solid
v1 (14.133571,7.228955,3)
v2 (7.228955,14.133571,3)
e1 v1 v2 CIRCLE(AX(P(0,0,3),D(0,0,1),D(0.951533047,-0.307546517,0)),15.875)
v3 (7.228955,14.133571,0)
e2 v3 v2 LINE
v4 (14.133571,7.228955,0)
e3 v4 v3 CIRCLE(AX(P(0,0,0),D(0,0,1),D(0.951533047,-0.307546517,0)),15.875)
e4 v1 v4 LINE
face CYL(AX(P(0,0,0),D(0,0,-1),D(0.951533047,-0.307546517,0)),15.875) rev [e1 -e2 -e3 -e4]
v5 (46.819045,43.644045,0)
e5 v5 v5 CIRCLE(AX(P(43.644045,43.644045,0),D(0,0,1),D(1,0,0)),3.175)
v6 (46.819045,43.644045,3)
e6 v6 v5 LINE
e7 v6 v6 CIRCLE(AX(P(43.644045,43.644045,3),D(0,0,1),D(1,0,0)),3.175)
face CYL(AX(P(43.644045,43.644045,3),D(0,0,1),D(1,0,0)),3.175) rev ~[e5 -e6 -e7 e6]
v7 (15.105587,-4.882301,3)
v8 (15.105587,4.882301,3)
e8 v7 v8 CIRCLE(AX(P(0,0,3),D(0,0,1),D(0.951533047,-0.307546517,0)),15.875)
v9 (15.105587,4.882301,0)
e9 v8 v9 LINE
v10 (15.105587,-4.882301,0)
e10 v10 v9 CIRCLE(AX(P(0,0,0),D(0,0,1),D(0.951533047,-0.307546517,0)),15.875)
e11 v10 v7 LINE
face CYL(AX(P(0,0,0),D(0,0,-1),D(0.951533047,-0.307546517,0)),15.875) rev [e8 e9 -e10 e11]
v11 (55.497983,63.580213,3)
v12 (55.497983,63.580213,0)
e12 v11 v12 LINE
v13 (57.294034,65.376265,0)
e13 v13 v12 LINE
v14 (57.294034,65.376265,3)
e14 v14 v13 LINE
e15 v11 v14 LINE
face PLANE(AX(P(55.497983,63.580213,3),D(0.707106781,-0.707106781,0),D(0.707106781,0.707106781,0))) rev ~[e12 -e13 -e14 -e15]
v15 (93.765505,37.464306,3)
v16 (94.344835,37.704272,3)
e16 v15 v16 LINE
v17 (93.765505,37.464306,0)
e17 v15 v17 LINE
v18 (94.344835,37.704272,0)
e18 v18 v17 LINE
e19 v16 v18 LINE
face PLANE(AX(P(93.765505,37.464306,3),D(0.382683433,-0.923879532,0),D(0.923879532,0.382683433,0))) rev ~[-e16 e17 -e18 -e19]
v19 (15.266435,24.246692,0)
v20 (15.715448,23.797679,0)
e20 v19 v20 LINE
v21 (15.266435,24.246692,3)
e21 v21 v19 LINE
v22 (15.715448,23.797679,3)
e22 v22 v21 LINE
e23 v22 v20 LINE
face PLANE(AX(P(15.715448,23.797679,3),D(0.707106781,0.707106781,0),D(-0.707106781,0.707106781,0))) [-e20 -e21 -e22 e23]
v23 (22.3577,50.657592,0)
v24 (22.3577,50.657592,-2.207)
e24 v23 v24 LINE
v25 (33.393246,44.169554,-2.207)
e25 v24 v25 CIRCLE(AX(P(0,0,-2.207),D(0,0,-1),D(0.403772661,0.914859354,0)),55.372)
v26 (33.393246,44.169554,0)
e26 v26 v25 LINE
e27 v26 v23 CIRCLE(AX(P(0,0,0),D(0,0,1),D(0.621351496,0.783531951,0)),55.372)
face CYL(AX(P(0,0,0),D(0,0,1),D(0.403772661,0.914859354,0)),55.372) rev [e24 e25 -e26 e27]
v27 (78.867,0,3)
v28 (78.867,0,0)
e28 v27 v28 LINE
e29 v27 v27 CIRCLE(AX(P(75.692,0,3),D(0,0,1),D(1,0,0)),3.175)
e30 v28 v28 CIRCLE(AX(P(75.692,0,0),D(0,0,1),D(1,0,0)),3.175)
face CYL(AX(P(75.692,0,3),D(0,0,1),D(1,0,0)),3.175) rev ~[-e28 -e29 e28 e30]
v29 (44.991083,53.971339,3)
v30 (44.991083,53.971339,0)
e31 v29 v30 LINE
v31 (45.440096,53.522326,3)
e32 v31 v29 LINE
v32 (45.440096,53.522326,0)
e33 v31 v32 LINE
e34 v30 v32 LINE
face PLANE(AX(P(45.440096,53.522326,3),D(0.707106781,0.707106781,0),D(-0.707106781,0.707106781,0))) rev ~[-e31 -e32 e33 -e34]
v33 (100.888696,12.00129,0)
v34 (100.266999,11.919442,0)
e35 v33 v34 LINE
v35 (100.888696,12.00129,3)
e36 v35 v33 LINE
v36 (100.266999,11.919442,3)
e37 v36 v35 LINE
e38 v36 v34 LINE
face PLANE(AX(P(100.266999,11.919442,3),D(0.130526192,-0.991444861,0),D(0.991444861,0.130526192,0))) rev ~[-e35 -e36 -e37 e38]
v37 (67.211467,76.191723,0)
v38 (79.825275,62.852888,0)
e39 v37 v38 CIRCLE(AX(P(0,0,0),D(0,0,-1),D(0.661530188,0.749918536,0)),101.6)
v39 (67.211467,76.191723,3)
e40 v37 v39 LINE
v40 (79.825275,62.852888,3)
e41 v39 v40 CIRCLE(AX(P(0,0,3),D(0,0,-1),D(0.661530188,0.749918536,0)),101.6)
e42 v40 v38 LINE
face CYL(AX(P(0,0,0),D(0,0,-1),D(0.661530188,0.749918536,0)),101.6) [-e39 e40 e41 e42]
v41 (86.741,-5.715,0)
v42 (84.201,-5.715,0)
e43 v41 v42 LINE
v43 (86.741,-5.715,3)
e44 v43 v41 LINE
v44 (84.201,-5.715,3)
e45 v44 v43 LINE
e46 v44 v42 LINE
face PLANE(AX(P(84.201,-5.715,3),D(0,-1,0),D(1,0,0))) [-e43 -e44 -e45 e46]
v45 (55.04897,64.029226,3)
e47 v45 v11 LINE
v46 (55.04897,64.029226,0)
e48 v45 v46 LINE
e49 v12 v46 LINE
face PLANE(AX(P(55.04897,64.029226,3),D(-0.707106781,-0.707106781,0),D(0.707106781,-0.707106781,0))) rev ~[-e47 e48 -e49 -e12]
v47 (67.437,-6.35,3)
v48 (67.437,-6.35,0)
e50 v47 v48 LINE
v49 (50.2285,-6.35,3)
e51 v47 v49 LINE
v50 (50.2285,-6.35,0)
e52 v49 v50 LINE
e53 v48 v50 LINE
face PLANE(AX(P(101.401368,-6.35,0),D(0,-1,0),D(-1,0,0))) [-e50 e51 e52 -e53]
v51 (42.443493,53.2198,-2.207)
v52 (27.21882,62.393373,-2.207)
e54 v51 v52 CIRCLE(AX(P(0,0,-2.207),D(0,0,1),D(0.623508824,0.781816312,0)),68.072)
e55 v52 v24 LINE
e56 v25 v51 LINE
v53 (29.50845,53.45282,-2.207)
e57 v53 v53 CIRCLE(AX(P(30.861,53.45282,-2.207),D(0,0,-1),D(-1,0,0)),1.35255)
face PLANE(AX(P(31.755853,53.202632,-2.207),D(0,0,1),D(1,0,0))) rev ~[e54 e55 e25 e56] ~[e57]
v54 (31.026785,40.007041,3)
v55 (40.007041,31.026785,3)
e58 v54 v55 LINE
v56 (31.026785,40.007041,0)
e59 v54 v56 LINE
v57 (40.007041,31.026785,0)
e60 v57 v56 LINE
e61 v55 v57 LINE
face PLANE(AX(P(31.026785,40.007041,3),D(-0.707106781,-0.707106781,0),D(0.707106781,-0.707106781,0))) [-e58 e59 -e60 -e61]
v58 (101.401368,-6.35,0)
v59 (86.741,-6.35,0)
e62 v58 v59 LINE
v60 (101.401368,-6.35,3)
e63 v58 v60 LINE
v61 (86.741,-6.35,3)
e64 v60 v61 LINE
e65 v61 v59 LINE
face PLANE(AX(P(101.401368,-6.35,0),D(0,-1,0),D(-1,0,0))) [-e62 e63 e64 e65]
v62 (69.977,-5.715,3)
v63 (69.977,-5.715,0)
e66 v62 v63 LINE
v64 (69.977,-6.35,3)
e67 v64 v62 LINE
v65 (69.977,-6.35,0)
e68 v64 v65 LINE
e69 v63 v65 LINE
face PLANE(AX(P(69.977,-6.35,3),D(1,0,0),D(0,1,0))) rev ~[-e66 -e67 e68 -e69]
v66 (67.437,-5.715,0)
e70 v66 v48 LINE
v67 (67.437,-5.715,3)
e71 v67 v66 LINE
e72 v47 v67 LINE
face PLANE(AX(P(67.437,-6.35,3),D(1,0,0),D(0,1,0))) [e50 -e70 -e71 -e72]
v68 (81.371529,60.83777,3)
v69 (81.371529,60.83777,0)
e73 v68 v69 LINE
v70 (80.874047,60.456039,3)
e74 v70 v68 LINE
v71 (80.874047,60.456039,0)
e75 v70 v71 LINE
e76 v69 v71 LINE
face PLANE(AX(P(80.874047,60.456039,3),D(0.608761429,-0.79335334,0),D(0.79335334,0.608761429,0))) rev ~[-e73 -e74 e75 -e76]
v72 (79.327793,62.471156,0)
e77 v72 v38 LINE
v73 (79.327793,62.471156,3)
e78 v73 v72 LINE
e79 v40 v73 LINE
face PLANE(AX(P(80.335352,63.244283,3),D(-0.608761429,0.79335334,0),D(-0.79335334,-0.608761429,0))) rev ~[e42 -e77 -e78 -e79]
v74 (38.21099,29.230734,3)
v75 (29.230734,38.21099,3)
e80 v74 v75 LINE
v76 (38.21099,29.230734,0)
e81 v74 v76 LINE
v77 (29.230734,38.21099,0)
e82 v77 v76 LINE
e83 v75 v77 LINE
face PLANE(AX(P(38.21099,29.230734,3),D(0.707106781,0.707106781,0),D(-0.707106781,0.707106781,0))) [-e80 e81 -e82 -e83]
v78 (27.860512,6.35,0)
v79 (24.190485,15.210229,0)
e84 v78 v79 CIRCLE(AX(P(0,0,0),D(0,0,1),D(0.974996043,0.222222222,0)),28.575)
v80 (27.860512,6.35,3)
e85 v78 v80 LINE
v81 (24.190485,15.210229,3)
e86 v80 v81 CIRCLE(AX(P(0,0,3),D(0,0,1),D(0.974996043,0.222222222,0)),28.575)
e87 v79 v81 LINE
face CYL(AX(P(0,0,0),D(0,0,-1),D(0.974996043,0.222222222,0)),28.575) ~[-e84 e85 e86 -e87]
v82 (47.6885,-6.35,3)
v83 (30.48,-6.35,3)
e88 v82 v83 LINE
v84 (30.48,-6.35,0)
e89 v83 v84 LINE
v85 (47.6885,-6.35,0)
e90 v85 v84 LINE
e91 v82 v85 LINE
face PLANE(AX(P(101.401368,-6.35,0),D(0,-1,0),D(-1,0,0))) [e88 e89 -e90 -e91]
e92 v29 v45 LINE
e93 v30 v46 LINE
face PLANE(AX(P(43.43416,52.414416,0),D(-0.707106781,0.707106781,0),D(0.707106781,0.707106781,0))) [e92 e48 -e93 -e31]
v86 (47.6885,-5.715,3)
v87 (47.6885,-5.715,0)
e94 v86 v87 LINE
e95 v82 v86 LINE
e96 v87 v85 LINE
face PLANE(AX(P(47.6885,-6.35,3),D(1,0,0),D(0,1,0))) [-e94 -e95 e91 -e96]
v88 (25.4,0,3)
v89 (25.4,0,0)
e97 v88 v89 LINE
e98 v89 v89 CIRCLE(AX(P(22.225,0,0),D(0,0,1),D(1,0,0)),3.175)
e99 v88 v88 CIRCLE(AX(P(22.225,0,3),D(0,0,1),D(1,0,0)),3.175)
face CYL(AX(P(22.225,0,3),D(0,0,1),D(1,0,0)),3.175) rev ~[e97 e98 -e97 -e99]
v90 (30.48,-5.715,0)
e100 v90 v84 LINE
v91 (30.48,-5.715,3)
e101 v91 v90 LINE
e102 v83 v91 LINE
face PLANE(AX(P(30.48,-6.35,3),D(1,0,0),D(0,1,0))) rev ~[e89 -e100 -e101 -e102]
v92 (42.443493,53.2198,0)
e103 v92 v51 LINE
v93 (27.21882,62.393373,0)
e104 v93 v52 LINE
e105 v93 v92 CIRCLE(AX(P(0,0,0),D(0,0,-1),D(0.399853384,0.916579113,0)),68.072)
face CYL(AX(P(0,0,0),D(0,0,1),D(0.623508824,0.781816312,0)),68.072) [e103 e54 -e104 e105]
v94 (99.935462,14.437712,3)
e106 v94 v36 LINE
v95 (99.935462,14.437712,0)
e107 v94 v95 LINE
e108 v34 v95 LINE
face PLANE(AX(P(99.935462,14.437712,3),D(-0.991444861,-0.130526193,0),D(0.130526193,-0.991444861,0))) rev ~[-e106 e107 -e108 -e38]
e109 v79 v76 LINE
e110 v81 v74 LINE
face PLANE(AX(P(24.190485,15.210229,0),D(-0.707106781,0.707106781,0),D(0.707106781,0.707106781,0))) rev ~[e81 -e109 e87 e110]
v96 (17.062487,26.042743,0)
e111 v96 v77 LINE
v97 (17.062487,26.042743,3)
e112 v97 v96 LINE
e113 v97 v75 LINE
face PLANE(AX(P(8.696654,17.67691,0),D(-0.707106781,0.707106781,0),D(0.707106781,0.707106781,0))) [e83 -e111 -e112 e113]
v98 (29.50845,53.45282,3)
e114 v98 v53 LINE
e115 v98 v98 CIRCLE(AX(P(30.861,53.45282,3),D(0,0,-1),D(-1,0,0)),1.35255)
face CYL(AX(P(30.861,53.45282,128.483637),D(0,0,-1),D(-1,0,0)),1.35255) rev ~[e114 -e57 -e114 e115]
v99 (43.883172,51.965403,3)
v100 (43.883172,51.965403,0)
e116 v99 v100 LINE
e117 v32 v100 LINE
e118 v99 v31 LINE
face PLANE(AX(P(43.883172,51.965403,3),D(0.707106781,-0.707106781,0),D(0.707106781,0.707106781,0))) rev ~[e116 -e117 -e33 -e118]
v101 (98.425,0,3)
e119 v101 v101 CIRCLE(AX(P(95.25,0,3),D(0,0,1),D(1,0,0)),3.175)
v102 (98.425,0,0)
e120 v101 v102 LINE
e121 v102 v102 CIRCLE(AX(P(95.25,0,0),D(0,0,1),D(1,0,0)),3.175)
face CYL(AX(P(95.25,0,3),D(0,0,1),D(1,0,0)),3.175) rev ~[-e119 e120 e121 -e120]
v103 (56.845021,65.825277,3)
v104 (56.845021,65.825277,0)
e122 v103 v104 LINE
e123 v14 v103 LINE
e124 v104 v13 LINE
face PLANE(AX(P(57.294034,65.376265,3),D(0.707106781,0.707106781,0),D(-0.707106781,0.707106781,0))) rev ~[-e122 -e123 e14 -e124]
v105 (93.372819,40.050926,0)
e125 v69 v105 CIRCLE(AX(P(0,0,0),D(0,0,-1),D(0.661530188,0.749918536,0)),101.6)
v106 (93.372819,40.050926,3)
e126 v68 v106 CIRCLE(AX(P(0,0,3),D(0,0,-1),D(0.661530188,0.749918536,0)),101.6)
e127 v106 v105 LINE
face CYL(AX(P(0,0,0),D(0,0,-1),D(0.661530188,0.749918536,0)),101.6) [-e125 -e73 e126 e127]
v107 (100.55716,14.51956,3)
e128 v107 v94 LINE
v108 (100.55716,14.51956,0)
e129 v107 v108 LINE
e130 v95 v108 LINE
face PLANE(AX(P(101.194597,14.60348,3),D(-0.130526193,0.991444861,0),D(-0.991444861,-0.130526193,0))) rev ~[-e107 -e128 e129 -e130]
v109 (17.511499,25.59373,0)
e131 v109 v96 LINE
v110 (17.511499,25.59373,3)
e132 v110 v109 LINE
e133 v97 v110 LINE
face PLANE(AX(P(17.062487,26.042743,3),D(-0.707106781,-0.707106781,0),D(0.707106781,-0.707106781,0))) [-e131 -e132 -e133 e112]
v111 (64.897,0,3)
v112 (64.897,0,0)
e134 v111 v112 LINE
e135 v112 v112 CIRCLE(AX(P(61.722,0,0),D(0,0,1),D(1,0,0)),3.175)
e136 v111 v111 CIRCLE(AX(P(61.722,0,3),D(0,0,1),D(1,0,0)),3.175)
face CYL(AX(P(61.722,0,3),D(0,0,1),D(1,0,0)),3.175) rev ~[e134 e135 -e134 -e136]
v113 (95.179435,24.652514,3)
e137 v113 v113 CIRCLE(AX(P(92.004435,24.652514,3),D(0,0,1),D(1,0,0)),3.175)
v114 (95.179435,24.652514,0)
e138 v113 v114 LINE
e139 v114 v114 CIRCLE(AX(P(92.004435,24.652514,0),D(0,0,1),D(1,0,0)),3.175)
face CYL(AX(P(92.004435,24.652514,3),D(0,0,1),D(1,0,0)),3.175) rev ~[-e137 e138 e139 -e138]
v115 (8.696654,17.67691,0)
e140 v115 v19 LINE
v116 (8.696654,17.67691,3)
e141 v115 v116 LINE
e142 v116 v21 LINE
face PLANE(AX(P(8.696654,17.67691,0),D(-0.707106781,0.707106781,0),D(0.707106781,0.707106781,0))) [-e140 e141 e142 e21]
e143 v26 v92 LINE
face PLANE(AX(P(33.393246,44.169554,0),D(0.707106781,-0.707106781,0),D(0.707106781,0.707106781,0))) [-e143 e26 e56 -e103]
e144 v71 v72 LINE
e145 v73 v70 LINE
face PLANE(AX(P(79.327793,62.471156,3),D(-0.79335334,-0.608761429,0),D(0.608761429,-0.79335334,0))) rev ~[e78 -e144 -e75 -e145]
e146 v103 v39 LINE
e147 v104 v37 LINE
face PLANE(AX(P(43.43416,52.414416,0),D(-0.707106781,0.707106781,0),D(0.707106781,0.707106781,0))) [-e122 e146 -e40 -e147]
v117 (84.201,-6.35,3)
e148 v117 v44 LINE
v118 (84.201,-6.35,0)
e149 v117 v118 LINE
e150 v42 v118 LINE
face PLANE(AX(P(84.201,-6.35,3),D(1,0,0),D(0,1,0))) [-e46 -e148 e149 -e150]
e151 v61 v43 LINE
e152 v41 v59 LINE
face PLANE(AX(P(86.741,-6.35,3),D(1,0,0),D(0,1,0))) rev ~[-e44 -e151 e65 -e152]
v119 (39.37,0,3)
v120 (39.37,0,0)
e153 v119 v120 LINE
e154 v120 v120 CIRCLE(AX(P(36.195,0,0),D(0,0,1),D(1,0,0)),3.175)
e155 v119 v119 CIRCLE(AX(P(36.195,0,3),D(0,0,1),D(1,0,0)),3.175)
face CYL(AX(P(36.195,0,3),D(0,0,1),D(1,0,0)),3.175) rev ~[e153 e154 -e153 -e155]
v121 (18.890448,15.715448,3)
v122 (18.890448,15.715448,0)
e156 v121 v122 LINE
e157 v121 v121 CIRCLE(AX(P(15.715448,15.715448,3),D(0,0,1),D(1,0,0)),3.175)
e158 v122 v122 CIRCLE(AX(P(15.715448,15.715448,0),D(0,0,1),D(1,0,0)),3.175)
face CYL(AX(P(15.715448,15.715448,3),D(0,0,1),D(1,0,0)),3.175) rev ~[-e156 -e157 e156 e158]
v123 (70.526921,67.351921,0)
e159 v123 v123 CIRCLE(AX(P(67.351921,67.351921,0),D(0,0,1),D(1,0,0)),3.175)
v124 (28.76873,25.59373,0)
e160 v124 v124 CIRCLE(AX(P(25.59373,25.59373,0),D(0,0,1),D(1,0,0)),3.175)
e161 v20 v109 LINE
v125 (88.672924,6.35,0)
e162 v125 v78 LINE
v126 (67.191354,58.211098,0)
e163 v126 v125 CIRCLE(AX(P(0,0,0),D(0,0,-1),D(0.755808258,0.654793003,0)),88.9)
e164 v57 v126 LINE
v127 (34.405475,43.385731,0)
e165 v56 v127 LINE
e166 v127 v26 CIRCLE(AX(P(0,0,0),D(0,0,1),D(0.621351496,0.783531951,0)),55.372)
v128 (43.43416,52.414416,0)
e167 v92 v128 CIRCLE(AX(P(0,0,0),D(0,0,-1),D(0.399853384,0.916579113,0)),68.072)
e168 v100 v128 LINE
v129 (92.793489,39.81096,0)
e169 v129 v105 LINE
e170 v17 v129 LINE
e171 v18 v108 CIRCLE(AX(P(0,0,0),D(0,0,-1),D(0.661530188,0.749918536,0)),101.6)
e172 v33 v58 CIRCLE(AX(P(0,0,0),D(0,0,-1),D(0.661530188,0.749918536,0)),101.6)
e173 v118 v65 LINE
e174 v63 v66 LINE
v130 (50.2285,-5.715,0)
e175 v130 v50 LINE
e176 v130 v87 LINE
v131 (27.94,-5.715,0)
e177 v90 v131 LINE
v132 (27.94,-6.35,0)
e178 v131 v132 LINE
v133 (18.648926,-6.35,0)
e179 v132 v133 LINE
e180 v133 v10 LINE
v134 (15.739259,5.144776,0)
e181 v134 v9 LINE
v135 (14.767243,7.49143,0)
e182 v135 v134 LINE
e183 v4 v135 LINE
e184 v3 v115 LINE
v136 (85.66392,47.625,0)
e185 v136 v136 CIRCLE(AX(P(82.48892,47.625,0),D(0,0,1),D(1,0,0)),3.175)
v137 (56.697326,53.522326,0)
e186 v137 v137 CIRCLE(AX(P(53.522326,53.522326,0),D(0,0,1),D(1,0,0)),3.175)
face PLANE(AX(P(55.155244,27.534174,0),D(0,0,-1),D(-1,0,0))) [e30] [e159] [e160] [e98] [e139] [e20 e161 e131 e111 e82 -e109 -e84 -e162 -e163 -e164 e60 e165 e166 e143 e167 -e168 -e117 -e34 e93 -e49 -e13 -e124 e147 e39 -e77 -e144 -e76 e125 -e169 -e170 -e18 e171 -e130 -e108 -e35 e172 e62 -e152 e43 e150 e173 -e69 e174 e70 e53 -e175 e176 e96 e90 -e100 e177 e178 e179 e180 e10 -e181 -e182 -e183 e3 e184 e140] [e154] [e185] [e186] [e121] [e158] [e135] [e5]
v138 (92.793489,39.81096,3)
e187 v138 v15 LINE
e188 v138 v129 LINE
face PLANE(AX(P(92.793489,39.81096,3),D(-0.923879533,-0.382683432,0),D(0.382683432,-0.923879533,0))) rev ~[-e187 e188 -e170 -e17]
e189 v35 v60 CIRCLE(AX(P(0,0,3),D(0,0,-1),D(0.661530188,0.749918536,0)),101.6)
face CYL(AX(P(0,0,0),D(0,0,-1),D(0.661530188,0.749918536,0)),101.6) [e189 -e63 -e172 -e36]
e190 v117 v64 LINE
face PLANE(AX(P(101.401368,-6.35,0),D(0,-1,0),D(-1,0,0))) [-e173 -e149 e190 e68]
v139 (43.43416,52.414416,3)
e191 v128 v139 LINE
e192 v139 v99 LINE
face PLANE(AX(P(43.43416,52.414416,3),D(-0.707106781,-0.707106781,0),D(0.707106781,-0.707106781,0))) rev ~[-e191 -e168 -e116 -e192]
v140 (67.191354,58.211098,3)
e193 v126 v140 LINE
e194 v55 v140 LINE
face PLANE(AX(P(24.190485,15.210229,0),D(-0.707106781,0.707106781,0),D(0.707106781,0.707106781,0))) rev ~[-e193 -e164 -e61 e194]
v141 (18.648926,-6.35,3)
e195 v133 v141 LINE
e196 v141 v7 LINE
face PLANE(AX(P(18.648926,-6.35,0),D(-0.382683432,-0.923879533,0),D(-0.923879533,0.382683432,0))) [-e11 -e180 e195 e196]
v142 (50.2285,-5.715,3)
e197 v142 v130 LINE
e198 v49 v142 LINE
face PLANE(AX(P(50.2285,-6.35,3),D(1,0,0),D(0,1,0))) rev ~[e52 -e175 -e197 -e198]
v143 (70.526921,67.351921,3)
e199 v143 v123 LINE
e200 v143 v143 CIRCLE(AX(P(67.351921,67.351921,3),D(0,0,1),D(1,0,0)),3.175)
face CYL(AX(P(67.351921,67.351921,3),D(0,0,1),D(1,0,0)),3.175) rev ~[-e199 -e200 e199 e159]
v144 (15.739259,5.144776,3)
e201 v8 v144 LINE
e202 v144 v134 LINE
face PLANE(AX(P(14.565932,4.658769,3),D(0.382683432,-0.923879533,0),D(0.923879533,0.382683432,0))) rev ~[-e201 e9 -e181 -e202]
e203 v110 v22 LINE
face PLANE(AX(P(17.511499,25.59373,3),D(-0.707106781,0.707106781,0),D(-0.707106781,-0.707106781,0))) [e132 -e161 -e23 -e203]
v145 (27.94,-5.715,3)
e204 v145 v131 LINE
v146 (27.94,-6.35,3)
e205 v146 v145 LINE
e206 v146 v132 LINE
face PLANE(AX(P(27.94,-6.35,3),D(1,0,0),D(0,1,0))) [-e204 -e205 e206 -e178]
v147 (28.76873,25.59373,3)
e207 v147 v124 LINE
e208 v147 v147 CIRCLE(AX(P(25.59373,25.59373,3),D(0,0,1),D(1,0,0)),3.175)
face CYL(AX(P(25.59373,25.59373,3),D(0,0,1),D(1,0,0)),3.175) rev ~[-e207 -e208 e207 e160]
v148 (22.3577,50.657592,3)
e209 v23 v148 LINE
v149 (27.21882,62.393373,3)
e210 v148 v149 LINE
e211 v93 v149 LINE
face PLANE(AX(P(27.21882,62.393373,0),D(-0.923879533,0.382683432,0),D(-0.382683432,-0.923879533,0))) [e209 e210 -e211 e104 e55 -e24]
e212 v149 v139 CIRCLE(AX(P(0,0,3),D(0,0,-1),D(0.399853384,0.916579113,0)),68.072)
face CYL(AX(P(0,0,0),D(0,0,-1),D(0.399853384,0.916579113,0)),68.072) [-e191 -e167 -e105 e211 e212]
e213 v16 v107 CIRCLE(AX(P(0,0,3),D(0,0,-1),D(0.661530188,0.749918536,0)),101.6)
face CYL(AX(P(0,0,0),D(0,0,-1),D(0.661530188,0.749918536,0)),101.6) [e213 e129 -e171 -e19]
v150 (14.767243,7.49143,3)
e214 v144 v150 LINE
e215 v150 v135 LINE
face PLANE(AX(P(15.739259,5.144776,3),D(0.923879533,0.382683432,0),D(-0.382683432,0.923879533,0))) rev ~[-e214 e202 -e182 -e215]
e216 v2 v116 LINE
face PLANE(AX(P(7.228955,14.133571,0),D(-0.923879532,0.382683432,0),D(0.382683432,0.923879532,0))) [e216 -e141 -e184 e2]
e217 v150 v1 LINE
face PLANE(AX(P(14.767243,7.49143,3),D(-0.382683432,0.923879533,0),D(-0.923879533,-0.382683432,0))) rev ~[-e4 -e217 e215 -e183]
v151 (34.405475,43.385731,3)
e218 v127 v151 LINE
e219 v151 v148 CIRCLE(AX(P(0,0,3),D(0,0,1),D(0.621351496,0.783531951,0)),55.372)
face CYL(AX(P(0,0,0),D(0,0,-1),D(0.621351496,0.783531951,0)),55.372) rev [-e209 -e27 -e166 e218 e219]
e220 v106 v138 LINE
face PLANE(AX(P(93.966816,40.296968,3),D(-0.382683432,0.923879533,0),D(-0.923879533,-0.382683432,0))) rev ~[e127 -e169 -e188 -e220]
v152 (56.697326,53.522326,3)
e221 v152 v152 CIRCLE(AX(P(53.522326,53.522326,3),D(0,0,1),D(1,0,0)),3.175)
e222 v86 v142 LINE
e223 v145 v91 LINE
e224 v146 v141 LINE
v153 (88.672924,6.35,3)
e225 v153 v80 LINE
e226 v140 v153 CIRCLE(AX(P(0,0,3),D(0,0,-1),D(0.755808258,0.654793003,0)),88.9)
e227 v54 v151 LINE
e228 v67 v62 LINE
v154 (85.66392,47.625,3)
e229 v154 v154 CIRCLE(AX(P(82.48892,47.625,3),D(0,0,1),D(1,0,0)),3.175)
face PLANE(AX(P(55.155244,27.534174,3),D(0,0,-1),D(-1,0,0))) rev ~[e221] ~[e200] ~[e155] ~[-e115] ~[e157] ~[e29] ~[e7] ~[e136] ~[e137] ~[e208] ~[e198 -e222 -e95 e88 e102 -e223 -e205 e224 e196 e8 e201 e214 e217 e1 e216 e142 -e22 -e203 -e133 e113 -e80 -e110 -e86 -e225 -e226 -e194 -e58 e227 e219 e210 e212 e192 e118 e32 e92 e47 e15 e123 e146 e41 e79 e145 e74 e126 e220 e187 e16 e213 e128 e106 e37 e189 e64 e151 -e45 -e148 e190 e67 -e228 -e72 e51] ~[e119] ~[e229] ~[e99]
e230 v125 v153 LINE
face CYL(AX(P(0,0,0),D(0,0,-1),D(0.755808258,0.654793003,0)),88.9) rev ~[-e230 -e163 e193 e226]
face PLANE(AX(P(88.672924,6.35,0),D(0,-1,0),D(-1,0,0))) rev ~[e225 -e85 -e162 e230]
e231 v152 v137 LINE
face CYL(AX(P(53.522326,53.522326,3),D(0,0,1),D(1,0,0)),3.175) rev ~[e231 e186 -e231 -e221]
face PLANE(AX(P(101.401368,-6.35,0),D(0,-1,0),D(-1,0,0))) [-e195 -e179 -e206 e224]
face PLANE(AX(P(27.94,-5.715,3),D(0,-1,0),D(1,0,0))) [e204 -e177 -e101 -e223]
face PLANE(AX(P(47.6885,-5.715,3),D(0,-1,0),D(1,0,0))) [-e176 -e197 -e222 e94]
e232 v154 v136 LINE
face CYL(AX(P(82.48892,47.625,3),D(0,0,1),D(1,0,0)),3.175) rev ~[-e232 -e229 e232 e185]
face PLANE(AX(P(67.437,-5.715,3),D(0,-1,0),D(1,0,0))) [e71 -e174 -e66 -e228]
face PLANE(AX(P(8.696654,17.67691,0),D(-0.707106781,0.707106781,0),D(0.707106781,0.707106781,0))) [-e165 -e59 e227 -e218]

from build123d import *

# Parameters (mm, degrees)
BOSS_EXTRUDE1_DEPTH   = 3.000000096
SKETCH2_R             = 3.175
CUT_EXTRUDE1_DEPTH    = 4.000000096
SKETCH3_W             = 2.54
SKETCH3_H             = 0.635
CUT_EXTRUDE2_DEPTH    = 4.000000096
BOSS_EXTRUDE2_DEPTH   = 2.206999904
F_6_32_TAPPED_HOLE1_D = 2.7051


with BuildPart() as part:
    # Sketch1 → Boss-Extrude1 (new body)
    with BuildSketch(Plane.XY):
        with BuildLine():
            Line((22.357699804, 50.65759216), (27.218819563, 62.393373411))
            ThreePointArc((27.218819563, 62.393373411), (35.677104191, 57.973626939), (43.43415954, 52.414415661))
            Line((43.43415954, 52.414415661), (67.21146711, 76.191723231))
            ThreePointArc((67.21146711, 76.191723231), (93.866160503, 38.880636728), (101.401368334, -6.35))
            Line((101.401368334, -6.35), (18.648926052, -6.35))
            Line((18.648926052, -6.35), (15.105587123, -4.88230096))
            ThreePointArc((15.105587123, -4.88230096), (14.666587579, 6.075099489), (7.228954972, 14.133571205))
            Line((7.228954972, 14.133571205), (8.696654013, 17.676910134))
            Line((8.696654013, 17.676910134), (34.405475059, 43.38573118))
            ThreePointArc((34.405475059, 43.38573118), (28.61353693, 47.405947816), (22.357699804, 50.65759216))
        make_face()
        with BuildLine():
            Line((88.672924278, 6.35), (27.86051193, 6.35))
            ThreePointArc((27.86051193, 6.35), (26.399857642, 10.93517908), (24.190484974, 15.210228852))
            Line((24.190484974, 15.210228852), (67.191354125, 58.211098004))
            ThreePointArc((67.191354125, 58.211098004), (82.13289044, 34.020557137), (88.672924278, 6.35))
        make_face(mode=Mode.SUBTRACT)
    extrude(amount=BOSS_EXTRUDE1_DEPTH)

    # Sketch2 → Cut-Extrude1 (cut, through all)
    with BuildSketch(Plane.XY.offset(3.000000096)):
        with Locations((22.225, 0)):
            Circle(SKETCH2_R)
        with Locations((36.195, 0)):
            Circle(SKETCH2_R)
        with Locations((61.722, 0)):
            Circle(SKETCH2_R)
        with Locations((75.692, 0)):
            Circle(SKETCH2_R)
        with Locations((95.25, 0)):
            Circle(SKETCH2_R)
        with Locations((15.715448212, 15.715448212)):
            Circle(SKETCH2_R)
        with Locations((25.593729945, 25.593729945)):
            Circle(SKETCH2_R)
        with Locations((43.644044748, 43.644044748)):
            Circle(SKETCH2_R)
        with Locations((53.522326482, 53.522326482)):
            Circle(SKETCH2_R)
        with Locations((92.004434954, 24.652514046)):
            Circle(SKETCH2_R)
        with Locations((82.48891971, 47.625)):
            Circle(SKETCH2_R)
        with Locations((67.351920908, 67.351920908)):
            Circle(SKETCH2_R)
    extrude(amount=-CUT_EXTRUDE1_DEPTH, mode=Mode.SUBTRACT)

    # Sketch3 → Cut-Extrude2 (cut, through all)
    with BuildSketch(Plane.XY.offset(3.000000096)):
        Polygon((15.266435406, 24.246691527), (17.06248663, 26.042742751), (17.511499436, 25.593729945), (15.715448212, 23.797678721), align=None)
        Polygon((44.991083167, 53.971339288), (43.43415954, 52.414415661), (43.883172346, 51.965402855), (45.440095973, 53.522326482), align=None)
        with Locations((29.21, -6.0325)):
            Rectangle(SKETCH3_W, SKETCH3_H)
        with Locations((68.707, -6.0325)):
            Rectangle(SKETCH3_W, SKETCH3_H)
        Polygon((29.230733674, 38.210989795), (31.026784898, 40.007041019), (40.007041019, 31.026784898), (38.210989795, 29.230733674), align=None)
        Polygon((56.845021246, 65.825277367), (55.048970022, 64.029226143), (55.497982828, 63.580213337), (57.294034052, 65.376264561), align=None)
        with Locations((48.9585, -6.0325)):
            Rectangle(SKETCH3_W, SKETCH3_H)
        with Locations((85.471, -6.0325)):
            Rectangle(SKETCH3_W, SKETCH3_H)
        Polygon((99.935462164, 14.437711971), (100.266998693, 11.919442024), (101.526133667, 12.085210288), (101.194597138, 14.603480236), align=None)
        Polygon((93.765504959, 37.464305742), (94.938831965, 37.950313702), (93.966816047, 40.296967714), (92.793489041, 39.810959755), align=None)
        Polygon((79.327792988, 62.471156422), (80.874047017, 60.456038938), (81.88160576, 61.229165953), (80.33535173, 63.244283437), align=None)
        Polygon((13.593916116, 7.005422516), (14.565932035, 4.658768503), (15.739259041, 5.144776462), (14.767243123, 7.491430475), align=None)
    extrude(amount=-CUT_EXTRUDE2_DEPTH, mode=Mode.SUBTRACT)

    # Sketch4 → Boss-Extrude2 (add)
    with BuildSketch(Plane(origin=(0, 0, 0), x_dir=(-1, 0, 0), z_dir=(0, 0, -1))):
        with BuildLine():
            Line((-27.218819563, 62.393373411), (-22.357699804, 50.65759216))
            ThreePointArc((-22.357699804, 50.65759216), (-28.063600293, 47.73355971), (-33.393246405, 44.169553751))
            Line((-33.393246405, 44.169553751), (-42.443492672, 53.219800017))
            ThreePointArc((-42.443492672, 53.219800017), (-35.13186657, 58.305652688), (-27.218819563, 62.393373411))
        make_face()
    extrude(amount=BOSS_EXTRUDE2_DEPTH)

    # #6-32 Tapped Hole1 (through all)
    with Locations(Plane.XY.offset(3.000000096)):
        with Locations((30.861, 53.452819972)):
            Hole(F_6_32_TAPPED_HOLE1_D / 2)


solid = part.part
